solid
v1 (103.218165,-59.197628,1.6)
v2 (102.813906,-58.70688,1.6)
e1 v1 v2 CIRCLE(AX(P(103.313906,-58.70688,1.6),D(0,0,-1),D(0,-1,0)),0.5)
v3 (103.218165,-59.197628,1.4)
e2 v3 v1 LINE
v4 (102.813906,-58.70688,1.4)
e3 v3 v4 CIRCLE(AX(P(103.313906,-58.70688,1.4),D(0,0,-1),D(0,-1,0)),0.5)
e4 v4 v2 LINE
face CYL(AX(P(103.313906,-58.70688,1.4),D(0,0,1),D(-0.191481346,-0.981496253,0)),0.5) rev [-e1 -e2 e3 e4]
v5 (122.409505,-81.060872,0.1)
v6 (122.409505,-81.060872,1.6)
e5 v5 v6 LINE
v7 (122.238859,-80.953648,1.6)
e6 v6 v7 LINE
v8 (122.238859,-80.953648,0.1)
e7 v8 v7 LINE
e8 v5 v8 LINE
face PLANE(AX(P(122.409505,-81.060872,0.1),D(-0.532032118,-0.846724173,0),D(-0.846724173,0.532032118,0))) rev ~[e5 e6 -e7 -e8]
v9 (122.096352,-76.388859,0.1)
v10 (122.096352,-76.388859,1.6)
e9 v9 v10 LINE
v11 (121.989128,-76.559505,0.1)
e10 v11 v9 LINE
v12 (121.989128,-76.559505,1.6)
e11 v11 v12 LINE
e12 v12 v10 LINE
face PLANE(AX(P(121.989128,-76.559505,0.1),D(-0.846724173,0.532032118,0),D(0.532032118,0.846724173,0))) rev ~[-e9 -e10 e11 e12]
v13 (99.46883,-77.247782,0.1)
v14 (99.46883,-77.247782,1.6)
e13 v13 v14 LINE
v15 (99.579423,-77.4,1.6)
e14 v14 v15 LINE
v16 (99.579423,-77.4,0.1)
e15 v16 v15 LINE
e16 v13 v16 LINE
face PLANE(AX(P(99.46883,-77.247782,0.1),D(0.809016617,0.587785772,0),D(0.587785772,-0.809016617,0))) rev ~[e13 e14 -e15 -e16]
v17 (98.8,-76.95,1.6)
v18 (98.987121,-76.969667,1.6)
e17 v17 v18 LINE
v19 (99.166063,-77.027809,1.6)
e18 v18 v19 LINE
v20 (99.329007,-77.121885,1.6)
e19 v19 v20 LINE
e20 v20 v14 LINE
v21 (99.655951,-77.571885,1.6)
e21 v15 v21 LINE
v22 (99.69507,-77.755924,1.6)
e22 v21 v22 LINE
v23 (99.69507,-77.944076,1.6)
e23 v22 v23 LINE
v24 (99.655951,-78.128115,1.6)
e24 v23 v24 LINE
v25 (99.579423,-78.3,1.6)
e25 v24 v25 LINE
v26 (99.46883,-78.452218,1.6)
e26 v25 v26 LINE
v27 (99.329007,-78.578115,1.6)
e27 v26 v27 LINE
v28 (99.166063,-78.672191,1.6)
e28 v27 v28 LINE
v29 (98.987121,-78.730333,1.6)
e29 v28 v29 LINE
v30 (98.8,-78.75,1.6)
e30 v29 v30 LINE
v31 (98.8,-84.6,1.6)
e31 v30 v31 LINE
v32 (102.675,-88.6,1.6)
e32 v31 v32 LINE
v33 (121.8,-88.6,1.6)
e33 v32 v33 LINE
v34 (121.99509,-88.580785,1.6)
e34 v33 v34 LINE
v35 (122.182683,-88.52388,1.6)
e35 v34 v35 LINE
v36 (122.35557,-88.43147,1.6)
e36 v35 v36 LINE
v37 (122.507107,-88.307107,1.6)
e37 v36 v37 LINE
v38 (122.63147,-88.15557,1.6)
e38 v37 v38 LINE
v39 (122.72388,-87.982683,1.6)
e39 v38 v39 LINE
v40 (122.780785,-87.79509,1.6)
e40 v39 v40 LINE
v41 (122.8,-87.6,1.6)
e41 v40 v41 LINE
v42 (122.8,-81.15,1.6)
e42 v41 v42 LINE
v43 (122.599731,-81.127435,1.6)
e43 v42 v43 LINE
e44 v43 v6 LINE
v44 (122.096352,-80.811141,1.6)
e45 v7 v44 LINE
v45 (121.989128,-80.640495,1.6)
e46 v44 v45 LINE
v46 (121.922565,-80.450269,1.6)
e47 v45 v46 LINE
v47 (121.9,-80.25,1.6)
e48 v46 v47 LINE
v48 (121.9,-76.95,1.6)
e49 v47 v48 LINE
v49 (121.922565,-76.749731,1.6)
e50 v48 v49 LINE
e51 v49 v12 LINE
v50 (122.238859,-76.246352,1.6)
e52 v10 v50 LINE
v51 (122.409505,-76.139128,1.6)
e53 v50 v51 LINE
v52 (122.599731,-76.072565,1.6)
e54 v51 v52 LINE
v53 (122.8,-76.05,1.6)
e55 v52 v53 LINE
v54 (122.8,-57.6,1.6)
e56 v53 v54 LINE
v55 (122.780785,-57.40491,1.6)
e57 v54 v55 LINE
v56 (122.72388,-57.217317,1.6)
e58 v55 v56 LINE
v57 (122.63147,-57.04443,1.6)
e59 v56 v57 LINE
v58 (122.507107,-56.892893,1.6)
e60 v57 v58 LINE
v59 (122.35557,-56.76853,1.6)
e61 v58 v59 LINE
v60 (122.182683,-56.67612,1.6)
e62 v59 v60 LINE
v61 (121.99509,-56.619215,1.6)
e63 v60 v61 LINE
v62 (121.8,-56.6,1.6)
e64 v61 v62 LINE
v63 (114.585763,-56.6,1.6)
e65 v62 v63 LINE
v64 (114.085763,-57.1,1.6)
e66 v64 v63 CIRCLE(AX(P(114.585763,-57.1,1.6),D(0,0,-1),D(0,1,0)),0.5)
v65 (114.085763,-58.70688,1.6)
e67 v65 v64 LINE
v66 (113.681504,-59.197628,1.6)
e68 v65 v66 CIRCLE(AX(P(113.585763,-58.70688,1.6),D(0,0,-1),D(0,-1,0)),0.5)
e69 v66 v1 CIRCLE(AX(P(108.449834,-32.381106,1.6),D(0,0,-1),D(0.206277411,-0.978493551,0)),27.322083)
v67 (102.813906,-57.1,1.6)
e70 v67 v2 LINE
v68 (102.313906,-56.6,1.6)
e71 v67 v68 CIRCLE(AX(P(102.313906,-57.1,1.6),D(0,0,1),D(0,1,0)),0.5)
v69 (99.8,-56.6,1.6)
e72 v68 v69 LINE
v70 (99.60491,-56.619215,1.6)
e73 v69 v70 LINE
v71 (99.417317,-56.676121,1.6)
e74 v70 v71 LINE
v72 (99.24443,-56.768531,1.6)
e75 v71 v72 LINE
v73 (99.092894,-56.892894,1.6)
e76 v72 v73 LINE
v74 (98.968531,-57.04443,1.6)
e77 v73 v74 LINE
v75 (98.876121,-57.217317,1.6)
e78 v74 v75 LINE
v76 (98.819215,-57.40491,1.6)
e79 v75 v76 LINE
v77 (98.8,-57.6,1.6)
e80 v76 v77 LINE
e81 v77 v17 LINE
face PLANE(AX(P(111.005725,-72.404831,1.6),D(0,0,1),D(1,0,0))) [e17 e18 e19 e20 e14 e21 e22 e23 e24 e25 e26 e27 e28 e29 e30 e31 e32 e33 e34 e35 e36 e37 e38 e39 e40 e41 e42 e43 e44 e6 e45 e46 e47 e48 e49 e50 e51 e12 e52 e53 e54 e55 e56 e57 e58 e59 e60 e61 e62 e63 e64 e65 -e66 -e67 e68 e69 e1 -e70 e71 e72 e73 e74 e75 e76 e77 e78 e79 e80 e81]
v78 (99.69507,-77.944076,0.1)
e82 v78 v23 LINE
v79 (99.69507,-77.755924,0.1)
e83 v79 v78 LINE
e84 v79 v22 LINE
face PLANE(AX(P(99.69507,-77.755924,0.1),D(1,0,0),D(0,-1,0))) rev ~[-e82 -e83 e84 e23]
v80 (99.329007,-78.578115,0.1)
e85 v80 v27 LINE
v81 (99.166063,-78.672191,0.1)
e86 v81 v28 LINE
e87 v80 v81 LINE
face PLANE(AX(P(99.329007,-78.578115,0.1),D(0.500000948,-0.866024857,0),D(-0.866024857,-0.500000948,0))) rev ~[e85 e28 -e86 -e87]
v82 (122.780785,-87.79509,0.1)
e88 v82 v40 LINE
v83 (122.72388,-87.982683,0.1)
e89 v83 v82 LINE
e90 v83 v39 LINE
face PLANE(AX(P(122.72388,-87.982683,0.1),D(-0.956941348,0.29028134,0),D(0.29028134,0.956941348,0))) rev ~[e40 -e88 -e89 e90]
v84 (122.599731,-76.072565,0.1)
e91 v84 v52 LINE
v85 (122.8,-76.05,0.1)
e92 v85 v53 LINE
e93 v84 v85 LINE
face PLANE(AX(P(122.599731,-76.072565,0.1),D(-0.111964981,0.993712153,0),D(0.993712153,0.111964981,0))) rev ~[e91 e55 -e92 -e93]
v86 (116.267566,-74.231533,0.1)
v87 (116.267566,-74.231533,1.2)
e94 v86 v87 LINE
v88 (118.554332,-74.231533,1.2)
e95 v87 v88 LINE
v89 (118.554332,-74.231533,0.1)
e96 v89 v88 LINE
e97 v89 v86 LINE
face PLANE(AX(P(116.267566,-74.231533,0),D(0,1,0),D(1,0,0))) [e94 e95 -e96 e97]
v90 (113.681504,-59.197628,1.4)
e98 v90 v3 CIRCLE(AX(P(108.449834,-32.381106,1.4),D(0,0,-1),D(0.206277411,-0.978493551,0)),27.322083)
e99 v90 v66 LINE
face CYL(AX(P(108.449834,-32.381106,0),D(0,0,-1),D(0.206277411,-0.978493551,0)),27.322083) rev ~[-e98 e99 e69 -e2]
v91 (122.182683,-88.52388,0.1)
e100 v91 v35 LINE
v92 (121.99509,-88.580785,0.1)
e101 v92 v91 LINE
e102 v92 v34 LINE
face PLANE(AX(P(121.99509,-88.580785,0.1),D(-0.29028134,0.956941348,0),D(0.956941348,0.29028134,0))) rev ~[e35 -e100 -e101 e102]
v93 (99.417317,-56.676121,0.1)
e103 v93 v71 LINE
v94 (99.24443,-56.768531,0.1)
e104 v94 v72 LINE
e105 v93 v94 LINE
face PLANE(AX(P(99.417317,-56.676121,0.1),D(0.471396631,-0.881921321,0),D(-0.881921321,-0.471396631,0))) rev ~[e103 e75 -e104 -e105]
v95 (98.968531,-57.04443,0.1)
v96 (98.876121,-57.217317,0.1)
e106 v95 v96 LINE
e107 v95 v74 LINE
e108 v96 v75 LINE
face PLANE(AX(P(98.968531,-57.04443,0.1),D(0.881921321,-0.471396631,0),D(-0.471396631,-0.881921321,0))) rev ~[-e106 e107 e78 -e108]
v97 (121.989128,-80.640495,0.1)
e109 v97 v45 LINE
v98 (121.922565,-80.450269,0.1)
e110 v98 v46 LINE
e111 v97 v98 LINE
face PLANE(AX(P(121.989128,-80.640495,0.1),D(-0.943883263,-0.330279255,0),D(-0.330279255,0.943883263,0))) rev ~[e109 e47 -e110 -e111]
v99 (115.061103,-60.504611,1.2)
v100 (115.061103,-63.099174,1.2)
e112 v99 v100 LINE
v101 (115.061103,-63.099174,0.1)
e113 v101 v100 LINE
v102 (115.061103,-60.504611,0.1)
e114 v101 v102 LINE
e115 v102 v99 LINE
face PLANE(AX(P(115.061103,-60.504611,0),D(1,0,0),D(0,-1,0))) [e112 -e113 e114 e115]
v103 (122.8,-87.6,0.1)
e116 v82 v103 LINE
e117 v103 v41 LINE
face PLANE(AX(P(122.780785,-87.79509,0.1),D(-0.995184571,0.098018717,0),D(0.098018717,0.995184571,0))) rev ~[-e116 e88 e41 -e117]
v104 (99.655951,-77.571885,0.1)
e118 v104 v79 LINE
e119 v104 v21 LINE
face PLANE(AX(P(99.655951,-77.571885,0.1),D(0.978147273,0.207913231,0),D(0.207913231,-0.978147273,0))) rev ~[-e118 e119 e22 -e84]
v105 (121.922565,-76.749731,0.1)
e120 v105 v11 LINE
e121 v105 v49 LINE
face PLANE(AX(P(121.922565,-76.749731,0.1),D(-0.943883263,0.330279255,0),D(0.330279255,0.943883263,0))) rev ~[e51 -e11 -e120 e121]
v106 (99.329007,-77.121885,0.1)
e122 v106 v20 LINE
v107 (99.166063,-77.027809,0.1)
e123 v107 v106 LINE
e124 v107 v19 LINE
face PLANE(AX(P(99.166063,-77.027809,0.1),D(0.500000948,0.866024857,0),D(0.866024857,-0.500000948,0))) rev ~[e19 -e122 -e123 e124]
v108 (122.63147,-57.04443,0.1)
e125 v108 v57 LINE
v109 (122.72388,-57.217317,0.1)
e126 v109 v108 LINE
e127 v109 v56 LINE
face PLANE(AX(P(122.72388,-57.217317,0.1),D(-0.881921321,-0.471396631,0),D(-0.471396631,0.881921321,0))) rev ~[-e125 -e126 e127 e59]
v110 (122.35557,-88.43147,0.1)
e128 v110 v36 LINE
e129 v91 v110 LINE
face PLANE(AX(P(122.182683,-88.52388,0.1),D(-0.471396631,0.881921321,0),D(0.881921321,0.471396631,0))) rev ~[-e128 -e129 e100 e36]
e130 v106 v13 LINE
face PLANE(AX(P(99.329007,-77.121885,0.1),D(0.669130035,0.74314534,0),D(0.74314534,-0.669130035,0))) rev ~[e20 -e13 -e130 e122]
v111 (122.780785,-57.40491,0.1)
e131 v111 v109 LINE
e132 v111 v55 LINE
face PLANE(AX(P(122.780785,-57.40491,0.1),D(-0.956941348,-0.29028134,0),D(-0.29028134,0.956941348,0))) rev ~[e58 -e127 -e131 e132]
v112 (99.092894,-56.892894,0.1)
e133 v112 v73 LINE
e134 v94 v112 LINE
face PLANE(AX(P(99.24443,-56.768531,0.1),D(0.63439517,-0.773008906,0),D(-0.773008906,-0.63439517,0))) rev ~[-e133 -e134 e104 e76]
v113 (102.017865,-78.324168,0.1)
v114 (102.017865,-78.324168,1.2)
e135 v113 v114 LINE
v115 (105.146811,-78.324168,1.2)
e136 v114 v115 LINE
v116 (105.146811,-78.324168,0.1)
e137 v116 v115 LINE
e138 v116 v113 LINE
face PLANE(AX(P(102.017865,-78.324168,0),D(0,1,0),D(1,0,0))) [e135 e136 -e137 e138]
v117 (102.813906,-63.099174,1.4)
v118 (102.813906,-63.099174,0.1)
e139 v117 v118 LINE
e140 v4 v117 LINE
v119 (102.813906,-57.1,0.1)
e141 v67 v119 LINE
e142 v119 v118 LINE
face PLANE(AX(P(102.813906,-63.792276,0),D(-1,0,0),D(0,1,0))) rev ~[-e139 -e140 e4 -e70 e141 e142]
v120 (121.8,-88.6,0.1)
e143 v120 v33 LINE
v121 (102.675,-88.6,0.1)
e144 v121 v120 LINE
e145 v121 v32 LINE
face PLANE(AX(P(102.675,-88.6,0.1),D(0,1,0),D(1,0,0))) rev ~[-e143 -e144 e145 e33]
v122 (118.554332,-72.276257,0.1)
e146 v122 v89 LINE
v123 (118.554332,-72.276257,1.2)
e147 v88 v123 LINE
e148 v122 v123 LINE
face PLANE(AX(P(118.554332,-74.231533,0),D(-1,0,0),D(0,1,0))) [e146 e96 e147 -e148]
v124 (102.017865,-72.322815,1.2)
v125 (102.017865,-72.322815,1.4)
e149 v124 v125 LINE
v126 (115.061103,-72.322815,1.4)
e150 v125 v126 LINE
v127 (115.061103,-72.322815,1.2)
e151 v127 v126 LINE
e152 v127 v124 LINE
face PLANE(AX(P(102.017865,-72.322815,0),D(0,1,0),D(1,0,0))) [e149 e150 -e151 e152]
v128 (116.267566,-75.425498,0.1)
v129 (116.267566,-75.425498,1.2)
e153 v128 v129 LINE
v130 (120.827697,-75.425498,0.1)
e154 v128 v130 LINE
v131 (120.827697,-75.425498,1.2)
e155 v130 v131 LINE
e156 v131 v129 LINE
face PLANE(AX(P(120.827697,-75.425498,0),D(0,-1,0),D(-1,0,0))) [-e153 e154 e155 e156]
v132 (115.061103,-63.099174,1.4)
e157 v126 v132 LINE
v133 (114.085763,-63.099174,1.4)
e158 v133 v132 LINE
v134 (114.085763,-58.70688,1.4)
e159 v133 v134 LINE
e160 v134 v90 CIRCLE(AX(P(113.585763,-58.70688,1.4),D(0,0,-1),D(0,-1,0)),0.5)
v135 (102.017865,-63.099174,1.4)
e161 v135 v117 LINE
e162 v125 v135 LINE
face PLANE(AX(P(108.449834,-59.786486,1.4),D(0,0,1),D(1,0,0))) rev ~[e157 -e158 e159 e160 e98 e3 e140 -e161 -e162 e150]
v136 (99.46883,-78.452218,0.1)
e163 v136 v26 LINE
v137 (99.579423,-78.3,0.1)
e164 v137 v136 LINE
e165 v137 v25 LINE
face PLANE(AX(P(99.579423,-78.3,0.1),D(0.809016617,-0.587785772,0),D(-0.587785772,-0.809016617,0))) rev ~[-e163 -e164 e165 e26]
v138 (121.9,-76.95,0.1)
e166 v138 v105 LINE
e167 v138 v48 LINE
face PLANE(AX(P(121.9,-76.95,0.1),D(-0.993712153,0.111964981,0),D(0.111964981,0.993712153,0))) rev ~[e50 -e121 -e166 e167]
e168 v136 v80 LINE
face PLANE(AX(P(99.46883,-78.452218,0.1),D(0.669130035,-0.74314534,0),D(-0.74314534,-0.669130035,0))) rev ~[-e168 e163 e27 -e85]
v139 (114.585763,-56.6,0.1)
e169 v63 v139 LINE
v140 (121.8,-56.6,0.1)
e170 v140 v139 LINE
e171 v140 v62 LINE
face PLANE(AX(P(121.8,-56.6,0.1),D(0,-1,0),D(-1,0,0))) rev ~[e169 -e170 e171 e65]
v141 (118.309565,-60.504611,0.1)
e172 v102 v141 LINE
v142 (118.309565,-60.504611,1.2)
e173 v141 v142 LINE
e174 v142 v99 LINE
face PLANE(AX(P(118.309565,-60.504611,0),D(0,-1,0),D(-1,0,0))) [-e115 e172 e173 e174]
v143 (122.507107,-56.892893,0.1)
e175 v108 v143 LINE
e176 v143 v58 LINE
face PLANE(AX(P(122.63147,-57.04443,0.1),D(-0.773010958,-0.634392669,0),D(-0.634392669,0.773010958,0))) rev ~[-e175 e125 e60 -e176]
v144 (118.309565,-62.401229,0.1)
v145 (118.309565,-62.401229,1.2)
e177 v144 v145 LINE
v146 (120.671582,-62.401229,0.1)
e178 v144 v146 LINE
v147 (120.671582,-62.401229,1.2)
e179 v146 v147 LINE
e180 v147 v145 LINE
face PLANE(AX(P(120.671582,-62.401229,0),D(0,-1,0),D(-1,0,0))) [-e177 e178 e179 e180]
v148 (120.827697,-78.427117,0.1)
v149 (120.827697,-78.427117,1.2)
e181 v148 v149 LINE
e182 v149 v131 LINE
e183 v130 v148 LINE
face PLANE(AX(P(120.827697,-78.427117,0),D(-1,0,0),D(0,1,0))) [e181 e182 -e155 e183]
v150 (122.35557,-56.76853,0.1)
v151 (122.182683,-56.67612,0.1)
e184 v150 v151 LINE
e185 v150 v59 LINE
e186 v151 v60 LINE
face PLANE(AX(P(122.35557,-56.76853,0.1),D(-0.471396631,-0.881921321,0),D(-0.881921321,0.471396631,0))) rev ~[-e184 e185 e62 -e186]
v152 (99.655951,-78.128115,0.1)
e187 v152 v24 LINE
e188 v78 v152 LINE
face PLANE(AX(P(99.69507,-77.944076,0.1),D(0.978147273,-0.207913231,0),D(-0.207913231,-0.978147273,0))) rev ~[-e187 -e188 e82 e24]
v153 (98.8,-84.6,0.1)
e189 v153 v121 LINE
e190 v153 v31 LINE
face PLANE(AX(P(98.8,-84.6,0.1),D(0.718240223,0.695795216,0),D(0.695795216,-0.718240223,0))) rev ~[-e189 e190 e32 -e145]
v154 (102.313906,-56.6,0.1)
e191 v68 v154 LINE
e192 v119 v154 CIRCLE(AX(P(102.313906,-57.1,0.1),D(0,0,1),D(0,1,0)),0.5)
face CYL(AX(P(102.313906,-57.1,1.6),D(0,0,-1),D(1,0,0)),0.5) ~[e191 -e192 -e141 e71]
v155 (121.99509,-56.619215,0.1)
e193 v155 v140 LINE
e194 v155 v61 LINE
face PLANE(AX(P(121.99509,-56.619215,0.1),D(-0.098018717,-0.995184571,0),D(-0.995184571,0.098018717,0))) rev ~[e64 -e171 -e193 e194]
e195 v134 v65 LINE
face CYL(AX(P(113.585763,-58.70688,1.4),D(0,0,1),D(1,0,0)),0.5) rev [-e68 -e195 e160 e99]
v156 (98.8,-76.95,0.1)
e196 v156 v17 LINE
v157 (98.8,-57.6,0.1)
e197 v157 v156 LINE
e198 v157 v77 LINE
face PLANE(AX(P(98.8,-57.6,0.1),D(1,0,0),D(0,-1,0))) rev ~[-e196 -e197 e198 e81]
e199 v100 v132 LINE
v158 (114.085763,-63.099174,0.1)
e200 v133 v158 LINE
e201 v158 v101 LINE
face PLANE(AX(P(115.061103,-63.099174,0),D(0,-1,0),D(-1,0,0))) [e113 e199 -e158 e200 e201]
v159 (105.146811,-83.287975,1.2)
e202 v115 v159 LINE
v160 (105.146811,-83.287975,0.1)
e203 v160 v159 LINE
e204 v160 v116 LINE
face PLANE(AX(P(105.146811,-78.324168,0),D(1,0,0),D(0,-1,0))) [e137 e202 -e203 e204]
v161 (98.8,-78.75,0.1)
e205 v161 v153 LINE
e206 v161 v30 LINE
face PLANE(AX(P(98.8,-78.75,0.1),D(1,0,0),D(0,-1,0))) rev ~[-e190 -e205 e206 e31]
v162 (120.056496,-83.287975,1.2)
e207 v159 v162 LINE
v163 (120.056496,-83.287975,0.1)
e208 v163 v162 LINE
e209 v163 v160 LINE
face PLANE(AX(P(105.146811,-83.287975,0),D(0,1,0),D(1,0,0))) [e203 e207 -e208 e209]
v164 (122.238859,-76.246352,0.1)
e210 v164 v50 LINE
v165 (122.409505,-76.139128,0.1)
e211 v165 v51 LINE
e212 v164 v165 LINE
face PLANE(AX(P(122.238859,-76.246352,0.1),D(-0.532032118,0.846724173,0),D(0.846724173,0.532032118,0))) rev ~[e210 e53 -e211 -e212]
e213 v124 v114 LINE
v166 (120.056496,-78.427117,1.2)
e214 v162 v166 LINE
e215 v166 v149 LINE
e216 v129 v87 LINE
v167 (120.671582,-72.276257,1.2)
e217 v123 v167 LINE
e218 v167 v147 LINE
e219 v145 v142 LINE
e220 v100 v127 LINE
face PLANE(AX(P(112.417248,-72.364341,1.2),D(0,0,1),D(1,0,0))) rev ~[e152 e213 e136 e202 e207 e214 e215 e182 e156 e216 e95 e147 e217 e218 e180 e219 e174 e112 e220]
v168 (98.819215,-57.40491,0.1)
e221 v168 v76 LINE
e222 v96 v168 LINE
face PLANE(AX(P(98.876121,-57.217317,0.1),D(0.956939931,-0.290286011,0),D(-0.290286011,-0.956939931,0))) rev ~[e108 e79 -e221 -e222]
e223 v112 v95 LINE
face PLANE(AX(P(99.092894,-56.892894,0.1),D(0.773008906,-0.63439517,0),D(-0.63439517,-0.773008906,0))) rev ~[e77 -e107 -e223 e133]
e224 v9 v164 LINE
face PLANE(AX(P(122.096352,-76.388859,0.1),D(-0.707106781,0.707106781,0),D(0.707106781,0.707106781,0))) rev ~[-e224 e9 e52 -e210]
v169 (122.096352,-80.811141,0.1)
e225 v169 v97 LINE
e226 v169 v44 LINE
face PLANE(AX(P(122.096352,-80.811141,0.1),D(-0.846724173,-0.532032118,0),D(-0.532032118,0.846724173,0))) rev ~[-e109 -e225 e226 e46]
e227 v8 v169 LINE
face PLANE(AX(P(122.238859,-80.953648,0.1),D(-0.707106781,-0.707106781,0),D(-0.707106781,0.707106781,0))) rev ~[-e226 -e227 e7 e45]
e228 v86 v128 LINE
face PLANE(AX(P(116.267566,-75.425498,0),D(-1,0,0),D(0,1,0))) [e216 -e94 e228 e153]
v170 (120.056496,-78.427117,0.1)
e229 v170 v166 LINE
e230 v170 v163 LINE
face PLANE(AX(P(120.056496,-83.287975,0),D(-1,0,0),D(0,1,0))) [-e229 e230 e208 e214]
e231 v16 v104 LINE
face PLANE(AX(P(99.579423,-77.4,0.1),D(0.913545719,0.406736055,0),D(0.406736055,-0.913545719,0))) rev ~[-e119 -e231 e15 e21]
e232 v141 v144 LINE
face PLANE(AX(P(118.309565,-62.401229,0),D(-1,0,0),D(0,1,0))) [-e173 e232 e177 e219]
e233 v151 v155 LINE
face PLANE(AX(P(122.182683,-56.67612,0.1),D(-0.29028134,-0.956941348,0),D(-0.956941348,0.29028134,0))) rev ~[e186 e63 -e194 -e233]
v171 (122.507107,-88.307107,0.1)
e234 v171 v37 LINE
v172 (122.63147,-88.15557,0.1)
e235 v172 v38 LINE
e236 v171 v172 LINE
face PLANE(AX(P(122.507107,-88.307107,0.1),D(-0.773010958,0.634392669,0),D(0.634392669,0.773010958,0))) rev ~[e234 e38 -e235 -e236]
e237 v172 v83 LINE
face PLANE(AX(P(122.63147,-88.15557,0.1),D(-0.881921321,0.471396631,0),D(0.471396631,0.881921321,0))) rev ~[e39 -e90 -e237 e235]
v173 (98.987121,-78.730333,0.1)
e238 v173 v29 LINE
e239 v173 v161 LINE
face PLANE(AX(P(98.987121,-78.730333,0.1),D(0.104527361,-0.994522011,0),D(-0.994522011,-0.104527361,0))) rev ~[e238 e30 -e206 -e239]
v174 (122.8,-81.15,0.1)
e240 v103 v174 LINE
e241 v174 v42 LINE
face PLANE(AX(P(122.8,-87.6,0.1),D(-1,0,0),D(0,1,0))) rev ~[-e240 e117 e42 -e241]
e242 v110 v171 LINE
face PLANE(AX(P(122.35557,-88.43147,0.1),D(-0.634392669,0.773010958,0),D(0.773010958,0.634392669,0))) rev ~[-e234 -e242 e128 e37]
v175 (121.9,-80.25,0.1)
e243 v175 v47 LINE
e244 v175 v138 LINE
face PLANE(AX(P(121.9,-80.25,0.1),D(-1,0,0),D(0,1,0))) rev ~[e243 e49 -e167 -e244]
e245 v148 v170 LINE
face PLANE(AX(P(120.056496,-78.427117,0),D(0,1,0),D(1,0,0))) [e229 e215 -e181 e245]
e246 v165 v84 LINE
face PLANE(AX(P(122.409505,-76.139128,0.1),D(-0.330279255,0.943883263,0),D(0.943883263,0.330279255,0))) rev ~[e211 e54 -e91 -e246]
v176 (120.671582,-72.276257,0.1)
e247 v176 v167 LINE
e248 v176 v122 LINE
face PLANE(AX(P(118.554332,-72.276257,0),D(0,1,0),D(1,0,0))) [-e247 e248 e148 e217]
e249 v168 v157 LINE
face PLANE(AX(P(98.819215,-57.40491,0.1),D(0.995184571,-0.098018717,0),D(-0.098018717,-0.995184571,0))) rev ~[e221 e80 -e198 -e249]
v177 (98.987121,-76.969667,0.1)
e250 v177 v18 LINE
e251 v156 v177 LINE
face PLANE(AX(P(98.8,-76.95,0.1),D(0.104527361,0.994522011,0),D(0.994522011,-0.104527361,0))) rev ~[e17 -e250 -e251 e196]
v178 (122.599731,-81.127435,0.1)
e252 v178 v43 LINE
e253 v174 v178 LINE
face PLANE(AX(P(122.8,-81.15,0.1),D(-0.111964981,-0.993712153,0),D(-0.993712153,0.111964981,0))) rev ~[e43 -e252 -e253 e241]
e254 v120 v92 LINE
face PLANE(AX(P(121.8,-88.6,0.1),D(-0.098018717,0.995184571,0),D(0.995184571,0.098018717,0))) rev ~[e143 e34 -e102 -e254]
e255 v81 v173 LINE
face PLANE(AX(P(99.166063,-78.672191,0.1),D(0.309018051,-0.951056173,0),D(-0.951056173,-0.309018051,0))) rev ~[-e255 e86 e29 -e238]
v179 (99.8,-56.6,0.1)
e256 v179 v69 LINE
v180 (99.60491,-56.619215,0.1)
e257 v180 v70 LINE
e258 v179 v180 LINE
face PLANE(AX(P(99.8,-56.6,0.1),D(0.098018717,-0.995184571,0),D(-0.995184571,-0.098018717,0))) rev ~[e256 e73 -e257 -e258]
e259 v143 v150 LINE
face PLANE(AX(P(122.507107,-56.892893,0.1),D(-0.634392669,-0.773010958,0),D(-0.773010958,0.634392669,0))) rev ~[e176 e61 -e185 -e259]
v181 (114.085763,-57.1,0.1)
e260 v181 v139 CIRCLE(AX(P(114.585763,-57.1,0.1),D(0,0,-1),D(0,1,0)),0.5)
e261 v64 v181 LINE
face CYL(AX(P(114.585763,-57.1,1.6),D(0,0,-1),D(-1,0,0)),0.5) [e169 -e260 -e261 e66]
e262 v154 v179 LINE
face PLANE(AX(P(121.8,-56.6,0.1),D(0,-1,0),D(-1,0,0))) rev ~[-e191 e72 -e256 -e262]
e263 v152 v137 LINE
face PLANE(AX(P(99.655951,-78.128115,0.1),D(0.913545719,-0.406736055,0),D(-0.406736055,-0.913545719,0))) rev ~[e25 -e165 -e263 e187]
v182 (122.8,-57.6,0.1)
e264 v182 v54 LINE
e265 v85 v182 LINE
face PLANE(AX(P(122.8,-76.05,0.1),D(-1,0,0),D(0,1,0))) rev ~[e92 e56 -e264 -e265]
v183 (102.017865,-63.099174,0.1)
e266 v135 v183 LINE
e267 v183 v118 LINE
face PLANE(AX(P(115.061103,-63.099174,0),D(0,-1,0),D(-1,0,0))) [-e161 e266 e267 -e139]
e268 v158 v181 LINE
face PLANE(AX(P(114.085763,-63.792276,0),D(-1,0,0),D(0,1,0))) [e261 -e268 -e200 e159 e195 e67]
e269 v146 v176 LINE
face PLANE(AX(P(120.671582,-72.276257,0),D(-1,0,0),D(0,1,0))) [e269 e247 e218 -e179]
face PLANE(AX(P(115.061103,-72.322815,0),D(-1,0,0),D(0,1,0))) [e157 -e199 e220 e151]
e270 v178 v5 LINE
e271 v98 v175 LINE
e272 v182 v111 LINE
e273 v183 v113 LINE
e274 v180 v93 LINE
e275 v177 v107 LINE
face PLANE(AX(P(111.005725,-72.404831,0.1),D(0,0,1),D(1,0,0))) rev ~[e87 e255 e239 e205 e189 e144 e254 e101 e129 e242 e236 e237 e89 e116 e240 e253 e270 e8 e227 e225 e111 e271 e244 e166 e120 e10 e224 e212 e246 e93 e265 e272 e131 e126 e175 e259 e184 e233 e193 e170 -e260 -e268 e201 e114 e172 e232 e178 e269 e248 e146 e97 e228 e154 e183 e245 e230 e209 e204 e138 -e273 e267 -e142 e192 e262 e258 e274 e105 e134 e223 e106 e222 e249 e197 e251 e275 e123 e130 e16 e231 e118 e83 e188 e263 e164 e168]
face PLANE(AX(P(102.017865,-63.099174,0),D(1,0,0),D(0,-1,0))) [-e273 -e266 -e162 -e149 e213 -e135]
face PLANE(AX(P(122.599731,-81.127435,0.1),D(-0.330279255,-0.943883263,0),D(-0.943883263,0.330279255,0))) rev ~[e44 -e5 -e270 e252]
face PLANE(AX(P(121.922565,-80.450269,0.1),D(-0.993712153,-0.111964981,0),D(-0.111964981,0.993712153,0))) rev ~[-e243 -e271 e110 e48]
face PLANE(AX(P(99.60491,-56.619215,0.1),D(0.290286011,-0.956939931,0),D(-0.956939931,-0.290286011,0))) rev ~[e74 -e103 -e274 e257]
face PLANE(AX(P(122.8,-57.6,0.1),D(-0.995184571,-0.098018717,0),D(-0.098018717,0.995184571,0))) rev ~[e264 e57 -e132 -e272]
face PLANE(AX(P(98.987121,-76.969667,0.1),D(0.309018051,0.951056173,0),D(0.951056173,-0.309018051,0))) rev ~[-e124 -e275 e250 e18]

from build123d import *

# Parameters (mm, degrees)
AUFSATZ_LINEAR_START            = 0.1
AUFSATZ_LINEAR_AUSTRAGEN1_DEPTH = 1.5
SCHNITT_LINEAR_AUSTRAGEN1_DEPTH = 1.2
SKIZZE3_W                       = 13.0432381
SKIZZE3_H                       = 9.22364084
SCHNITT_LINEAR_AUSTRAGEN2_DEPTH = 1.4
SKIZZE4_W                       = 11.271857287
SKIZZE4_H                       = 8.011580578
SCHNITT_LINEAR_AUSTRAGEN3_DEPTH = 1.4
SCHNITT_LINEAR_AUSTRAGEN4_DEPTH = 152.434342208
VERRUNDUNG1_R                   = 0.5
VERRUNDUNG2_R                   = 0.5


with BuildPart() as part:
    # Skizze1 → Aufsatz-Linear austragen1 (new body)
    with BuildSketch(Plane.XY.offset(AUFSATZ_LINEAR_START)):
        Polygon((121.99509, -56.619215), (121.8, -56.6), (99.8, -56.6), (99.60491, -56.619215), (99.417317, -56.676121), (99.24443, -56.768531), (99.092894, -56.892894), (98.968531, -57.04443), (98.876121, -57.217317), (98.819215, -57.40491), (98.8, -57.6), (98.8, -76.95), (98.987121, -76.969667), (99.166063, -77.027809), (99.329007, -77.121885), (99.46883, -77.247782), (99.579423, -77.4), (99.655951, -77.571885), (99.69507, -77.755924), (99.69507, -77.944076), (99.655951, -78.128115), (99.579423, -78.3), (99.46883, -78.452218), (99.329007, -78.578115), (99.166063, -78.672191), (98.987121, -78.730333), (98.8, -78.75), (98.8, -84.6), (102.675, -88.6), (121.8, -88.6), (121.99509, -88.580785), (122.182683, -88.52388), (122.35557, -88.43147), (122.507107, -88.307107), (122.63147, -88.15557), (122.72388, -87.982683), (122.780785, -87.79509), (122.8, -87.6), (122.8, -81.15), (122.599731, -81.127435), (122.409505, -81.060872), (122.238859, -80.953648), (122.096352, -80.811141), (121.989128, -80.640495), (121.922565, -80.450269), (121.9, -80.25), (121.9, -76.95), (121.922565, -76.749731), (121.989128, -76.559505), (122.096352, -76.388859), (122.238859, -76.246352), (122.409505, -76.139128), (122.599731, -76.072565), (122.8, -76.05), (122.8, -57.6), (122.780785, -57.40491), (122.72388, -57.217317), (122.63147, -57.04443), (122.507107, -56.892893), (122.35557, -56.76853), (122.182683, -56.67612), align=None)
    extrude(amount=AUFSATZ_LINEAR_AUSTRAGEN1_DEPTH)

    # Skizze2 → Schnitt-Linear austragen1 (cut)
    with BuildSketch(Plane.XY):
        Polygon((102.017864846, -63.099173962), (102.017864846, -78.324168195), (105.146811161, -78.324168195), (105.146811161, -83.287975006), (120.056496088, -83.287975006), (120.056496088, -78.427117377), (120.827696552, -78.427117377), (120.827696552, -75.425497639), (116.267566255, -75.425497639), (116.267566255, -74.231533011), (118.554332467, -74.231533011), (118.554332467, -72.276257259), (120.6715821, -72.276257259), (120.6715821, -62.401228596), (118.309565205, -62.401228596), (118.309565205, -60.50461088), (115.061102946, -60.50461088), (115.061102946, -63.099173962), align=None)
    extrude(amount=SCHNITT_LINEAR_AUSTRAGEN1_DEPTH, mode=Mode.SUBTRACT)

    # Skizze3 → Schnitt-Linear austragen2 (cut)
    with BuildSketch(Plane.XY):
        with Locations((108.539483896, -67.710994382)):
            Rectangle(SKIZZE3_W, SKIZZE3_H)
    extrude(amount=SCHNITT_LINEAR_AUSTRAGEN2_DEPTH, mode=Mode.SUBTRACT)

    # Skizze4 → Schnitt-Linear austragen3 (cut)
    with BuildSketch(Plane.XY):
        with Locations((108.449834452, -59.786485977)):
            Rectangle(SKIZZE4_W, SKIZZE4_H)
    extrude(amount=SCHNITT_LINEAR_AUSTRAGEN3_DEPTH, mode=Mode.SUBTRACT)

    # Skizze5 → Schnitt-Linear austragen4 (cut, through all)
    with BuildSketch(Plane.XY):
        with BuildLine():
            Line((114.085763095, -56.6), (114.085763095, -59.115588122))
            ThreePointArc((114.085763095, -59.115588122), (108.449834452, -59.703189112), (102.813905808, -59.115588122))
            Line((102.813905808, -59.115588122), (102.813905808, -56.6))
            Line((102.813905808, -56.6), (114.085763095, -56.6))
        make_face()
    extrude(amount=SCHNITT_LINEAR_AUSTRAGEN4_DEPTH, mode=Mode.SUBTRACT)

    # Verrundung1
    verrundung1_edges = [part.edges().sort_by_distance(p)[0] for p in [
        (102.813905808, -56.6, 0.85),
        (114.085763095, -56.6, 0.85),
    ]]
    fillet(verrundung1_edges, radius=VERRUNDUNG1_R)

    # Verrundung2
    verrundung2_edges = [part.edges().sort_by_distance(p)[0] for p in [
        (114.085763095, -59.115588122, 1.5),
        (102.813905808, -59.115588122, 1.5),
    ]]
    fillet(verrundung2_edges, radius=VERRUNDUNG2_R)


solid = part.part
